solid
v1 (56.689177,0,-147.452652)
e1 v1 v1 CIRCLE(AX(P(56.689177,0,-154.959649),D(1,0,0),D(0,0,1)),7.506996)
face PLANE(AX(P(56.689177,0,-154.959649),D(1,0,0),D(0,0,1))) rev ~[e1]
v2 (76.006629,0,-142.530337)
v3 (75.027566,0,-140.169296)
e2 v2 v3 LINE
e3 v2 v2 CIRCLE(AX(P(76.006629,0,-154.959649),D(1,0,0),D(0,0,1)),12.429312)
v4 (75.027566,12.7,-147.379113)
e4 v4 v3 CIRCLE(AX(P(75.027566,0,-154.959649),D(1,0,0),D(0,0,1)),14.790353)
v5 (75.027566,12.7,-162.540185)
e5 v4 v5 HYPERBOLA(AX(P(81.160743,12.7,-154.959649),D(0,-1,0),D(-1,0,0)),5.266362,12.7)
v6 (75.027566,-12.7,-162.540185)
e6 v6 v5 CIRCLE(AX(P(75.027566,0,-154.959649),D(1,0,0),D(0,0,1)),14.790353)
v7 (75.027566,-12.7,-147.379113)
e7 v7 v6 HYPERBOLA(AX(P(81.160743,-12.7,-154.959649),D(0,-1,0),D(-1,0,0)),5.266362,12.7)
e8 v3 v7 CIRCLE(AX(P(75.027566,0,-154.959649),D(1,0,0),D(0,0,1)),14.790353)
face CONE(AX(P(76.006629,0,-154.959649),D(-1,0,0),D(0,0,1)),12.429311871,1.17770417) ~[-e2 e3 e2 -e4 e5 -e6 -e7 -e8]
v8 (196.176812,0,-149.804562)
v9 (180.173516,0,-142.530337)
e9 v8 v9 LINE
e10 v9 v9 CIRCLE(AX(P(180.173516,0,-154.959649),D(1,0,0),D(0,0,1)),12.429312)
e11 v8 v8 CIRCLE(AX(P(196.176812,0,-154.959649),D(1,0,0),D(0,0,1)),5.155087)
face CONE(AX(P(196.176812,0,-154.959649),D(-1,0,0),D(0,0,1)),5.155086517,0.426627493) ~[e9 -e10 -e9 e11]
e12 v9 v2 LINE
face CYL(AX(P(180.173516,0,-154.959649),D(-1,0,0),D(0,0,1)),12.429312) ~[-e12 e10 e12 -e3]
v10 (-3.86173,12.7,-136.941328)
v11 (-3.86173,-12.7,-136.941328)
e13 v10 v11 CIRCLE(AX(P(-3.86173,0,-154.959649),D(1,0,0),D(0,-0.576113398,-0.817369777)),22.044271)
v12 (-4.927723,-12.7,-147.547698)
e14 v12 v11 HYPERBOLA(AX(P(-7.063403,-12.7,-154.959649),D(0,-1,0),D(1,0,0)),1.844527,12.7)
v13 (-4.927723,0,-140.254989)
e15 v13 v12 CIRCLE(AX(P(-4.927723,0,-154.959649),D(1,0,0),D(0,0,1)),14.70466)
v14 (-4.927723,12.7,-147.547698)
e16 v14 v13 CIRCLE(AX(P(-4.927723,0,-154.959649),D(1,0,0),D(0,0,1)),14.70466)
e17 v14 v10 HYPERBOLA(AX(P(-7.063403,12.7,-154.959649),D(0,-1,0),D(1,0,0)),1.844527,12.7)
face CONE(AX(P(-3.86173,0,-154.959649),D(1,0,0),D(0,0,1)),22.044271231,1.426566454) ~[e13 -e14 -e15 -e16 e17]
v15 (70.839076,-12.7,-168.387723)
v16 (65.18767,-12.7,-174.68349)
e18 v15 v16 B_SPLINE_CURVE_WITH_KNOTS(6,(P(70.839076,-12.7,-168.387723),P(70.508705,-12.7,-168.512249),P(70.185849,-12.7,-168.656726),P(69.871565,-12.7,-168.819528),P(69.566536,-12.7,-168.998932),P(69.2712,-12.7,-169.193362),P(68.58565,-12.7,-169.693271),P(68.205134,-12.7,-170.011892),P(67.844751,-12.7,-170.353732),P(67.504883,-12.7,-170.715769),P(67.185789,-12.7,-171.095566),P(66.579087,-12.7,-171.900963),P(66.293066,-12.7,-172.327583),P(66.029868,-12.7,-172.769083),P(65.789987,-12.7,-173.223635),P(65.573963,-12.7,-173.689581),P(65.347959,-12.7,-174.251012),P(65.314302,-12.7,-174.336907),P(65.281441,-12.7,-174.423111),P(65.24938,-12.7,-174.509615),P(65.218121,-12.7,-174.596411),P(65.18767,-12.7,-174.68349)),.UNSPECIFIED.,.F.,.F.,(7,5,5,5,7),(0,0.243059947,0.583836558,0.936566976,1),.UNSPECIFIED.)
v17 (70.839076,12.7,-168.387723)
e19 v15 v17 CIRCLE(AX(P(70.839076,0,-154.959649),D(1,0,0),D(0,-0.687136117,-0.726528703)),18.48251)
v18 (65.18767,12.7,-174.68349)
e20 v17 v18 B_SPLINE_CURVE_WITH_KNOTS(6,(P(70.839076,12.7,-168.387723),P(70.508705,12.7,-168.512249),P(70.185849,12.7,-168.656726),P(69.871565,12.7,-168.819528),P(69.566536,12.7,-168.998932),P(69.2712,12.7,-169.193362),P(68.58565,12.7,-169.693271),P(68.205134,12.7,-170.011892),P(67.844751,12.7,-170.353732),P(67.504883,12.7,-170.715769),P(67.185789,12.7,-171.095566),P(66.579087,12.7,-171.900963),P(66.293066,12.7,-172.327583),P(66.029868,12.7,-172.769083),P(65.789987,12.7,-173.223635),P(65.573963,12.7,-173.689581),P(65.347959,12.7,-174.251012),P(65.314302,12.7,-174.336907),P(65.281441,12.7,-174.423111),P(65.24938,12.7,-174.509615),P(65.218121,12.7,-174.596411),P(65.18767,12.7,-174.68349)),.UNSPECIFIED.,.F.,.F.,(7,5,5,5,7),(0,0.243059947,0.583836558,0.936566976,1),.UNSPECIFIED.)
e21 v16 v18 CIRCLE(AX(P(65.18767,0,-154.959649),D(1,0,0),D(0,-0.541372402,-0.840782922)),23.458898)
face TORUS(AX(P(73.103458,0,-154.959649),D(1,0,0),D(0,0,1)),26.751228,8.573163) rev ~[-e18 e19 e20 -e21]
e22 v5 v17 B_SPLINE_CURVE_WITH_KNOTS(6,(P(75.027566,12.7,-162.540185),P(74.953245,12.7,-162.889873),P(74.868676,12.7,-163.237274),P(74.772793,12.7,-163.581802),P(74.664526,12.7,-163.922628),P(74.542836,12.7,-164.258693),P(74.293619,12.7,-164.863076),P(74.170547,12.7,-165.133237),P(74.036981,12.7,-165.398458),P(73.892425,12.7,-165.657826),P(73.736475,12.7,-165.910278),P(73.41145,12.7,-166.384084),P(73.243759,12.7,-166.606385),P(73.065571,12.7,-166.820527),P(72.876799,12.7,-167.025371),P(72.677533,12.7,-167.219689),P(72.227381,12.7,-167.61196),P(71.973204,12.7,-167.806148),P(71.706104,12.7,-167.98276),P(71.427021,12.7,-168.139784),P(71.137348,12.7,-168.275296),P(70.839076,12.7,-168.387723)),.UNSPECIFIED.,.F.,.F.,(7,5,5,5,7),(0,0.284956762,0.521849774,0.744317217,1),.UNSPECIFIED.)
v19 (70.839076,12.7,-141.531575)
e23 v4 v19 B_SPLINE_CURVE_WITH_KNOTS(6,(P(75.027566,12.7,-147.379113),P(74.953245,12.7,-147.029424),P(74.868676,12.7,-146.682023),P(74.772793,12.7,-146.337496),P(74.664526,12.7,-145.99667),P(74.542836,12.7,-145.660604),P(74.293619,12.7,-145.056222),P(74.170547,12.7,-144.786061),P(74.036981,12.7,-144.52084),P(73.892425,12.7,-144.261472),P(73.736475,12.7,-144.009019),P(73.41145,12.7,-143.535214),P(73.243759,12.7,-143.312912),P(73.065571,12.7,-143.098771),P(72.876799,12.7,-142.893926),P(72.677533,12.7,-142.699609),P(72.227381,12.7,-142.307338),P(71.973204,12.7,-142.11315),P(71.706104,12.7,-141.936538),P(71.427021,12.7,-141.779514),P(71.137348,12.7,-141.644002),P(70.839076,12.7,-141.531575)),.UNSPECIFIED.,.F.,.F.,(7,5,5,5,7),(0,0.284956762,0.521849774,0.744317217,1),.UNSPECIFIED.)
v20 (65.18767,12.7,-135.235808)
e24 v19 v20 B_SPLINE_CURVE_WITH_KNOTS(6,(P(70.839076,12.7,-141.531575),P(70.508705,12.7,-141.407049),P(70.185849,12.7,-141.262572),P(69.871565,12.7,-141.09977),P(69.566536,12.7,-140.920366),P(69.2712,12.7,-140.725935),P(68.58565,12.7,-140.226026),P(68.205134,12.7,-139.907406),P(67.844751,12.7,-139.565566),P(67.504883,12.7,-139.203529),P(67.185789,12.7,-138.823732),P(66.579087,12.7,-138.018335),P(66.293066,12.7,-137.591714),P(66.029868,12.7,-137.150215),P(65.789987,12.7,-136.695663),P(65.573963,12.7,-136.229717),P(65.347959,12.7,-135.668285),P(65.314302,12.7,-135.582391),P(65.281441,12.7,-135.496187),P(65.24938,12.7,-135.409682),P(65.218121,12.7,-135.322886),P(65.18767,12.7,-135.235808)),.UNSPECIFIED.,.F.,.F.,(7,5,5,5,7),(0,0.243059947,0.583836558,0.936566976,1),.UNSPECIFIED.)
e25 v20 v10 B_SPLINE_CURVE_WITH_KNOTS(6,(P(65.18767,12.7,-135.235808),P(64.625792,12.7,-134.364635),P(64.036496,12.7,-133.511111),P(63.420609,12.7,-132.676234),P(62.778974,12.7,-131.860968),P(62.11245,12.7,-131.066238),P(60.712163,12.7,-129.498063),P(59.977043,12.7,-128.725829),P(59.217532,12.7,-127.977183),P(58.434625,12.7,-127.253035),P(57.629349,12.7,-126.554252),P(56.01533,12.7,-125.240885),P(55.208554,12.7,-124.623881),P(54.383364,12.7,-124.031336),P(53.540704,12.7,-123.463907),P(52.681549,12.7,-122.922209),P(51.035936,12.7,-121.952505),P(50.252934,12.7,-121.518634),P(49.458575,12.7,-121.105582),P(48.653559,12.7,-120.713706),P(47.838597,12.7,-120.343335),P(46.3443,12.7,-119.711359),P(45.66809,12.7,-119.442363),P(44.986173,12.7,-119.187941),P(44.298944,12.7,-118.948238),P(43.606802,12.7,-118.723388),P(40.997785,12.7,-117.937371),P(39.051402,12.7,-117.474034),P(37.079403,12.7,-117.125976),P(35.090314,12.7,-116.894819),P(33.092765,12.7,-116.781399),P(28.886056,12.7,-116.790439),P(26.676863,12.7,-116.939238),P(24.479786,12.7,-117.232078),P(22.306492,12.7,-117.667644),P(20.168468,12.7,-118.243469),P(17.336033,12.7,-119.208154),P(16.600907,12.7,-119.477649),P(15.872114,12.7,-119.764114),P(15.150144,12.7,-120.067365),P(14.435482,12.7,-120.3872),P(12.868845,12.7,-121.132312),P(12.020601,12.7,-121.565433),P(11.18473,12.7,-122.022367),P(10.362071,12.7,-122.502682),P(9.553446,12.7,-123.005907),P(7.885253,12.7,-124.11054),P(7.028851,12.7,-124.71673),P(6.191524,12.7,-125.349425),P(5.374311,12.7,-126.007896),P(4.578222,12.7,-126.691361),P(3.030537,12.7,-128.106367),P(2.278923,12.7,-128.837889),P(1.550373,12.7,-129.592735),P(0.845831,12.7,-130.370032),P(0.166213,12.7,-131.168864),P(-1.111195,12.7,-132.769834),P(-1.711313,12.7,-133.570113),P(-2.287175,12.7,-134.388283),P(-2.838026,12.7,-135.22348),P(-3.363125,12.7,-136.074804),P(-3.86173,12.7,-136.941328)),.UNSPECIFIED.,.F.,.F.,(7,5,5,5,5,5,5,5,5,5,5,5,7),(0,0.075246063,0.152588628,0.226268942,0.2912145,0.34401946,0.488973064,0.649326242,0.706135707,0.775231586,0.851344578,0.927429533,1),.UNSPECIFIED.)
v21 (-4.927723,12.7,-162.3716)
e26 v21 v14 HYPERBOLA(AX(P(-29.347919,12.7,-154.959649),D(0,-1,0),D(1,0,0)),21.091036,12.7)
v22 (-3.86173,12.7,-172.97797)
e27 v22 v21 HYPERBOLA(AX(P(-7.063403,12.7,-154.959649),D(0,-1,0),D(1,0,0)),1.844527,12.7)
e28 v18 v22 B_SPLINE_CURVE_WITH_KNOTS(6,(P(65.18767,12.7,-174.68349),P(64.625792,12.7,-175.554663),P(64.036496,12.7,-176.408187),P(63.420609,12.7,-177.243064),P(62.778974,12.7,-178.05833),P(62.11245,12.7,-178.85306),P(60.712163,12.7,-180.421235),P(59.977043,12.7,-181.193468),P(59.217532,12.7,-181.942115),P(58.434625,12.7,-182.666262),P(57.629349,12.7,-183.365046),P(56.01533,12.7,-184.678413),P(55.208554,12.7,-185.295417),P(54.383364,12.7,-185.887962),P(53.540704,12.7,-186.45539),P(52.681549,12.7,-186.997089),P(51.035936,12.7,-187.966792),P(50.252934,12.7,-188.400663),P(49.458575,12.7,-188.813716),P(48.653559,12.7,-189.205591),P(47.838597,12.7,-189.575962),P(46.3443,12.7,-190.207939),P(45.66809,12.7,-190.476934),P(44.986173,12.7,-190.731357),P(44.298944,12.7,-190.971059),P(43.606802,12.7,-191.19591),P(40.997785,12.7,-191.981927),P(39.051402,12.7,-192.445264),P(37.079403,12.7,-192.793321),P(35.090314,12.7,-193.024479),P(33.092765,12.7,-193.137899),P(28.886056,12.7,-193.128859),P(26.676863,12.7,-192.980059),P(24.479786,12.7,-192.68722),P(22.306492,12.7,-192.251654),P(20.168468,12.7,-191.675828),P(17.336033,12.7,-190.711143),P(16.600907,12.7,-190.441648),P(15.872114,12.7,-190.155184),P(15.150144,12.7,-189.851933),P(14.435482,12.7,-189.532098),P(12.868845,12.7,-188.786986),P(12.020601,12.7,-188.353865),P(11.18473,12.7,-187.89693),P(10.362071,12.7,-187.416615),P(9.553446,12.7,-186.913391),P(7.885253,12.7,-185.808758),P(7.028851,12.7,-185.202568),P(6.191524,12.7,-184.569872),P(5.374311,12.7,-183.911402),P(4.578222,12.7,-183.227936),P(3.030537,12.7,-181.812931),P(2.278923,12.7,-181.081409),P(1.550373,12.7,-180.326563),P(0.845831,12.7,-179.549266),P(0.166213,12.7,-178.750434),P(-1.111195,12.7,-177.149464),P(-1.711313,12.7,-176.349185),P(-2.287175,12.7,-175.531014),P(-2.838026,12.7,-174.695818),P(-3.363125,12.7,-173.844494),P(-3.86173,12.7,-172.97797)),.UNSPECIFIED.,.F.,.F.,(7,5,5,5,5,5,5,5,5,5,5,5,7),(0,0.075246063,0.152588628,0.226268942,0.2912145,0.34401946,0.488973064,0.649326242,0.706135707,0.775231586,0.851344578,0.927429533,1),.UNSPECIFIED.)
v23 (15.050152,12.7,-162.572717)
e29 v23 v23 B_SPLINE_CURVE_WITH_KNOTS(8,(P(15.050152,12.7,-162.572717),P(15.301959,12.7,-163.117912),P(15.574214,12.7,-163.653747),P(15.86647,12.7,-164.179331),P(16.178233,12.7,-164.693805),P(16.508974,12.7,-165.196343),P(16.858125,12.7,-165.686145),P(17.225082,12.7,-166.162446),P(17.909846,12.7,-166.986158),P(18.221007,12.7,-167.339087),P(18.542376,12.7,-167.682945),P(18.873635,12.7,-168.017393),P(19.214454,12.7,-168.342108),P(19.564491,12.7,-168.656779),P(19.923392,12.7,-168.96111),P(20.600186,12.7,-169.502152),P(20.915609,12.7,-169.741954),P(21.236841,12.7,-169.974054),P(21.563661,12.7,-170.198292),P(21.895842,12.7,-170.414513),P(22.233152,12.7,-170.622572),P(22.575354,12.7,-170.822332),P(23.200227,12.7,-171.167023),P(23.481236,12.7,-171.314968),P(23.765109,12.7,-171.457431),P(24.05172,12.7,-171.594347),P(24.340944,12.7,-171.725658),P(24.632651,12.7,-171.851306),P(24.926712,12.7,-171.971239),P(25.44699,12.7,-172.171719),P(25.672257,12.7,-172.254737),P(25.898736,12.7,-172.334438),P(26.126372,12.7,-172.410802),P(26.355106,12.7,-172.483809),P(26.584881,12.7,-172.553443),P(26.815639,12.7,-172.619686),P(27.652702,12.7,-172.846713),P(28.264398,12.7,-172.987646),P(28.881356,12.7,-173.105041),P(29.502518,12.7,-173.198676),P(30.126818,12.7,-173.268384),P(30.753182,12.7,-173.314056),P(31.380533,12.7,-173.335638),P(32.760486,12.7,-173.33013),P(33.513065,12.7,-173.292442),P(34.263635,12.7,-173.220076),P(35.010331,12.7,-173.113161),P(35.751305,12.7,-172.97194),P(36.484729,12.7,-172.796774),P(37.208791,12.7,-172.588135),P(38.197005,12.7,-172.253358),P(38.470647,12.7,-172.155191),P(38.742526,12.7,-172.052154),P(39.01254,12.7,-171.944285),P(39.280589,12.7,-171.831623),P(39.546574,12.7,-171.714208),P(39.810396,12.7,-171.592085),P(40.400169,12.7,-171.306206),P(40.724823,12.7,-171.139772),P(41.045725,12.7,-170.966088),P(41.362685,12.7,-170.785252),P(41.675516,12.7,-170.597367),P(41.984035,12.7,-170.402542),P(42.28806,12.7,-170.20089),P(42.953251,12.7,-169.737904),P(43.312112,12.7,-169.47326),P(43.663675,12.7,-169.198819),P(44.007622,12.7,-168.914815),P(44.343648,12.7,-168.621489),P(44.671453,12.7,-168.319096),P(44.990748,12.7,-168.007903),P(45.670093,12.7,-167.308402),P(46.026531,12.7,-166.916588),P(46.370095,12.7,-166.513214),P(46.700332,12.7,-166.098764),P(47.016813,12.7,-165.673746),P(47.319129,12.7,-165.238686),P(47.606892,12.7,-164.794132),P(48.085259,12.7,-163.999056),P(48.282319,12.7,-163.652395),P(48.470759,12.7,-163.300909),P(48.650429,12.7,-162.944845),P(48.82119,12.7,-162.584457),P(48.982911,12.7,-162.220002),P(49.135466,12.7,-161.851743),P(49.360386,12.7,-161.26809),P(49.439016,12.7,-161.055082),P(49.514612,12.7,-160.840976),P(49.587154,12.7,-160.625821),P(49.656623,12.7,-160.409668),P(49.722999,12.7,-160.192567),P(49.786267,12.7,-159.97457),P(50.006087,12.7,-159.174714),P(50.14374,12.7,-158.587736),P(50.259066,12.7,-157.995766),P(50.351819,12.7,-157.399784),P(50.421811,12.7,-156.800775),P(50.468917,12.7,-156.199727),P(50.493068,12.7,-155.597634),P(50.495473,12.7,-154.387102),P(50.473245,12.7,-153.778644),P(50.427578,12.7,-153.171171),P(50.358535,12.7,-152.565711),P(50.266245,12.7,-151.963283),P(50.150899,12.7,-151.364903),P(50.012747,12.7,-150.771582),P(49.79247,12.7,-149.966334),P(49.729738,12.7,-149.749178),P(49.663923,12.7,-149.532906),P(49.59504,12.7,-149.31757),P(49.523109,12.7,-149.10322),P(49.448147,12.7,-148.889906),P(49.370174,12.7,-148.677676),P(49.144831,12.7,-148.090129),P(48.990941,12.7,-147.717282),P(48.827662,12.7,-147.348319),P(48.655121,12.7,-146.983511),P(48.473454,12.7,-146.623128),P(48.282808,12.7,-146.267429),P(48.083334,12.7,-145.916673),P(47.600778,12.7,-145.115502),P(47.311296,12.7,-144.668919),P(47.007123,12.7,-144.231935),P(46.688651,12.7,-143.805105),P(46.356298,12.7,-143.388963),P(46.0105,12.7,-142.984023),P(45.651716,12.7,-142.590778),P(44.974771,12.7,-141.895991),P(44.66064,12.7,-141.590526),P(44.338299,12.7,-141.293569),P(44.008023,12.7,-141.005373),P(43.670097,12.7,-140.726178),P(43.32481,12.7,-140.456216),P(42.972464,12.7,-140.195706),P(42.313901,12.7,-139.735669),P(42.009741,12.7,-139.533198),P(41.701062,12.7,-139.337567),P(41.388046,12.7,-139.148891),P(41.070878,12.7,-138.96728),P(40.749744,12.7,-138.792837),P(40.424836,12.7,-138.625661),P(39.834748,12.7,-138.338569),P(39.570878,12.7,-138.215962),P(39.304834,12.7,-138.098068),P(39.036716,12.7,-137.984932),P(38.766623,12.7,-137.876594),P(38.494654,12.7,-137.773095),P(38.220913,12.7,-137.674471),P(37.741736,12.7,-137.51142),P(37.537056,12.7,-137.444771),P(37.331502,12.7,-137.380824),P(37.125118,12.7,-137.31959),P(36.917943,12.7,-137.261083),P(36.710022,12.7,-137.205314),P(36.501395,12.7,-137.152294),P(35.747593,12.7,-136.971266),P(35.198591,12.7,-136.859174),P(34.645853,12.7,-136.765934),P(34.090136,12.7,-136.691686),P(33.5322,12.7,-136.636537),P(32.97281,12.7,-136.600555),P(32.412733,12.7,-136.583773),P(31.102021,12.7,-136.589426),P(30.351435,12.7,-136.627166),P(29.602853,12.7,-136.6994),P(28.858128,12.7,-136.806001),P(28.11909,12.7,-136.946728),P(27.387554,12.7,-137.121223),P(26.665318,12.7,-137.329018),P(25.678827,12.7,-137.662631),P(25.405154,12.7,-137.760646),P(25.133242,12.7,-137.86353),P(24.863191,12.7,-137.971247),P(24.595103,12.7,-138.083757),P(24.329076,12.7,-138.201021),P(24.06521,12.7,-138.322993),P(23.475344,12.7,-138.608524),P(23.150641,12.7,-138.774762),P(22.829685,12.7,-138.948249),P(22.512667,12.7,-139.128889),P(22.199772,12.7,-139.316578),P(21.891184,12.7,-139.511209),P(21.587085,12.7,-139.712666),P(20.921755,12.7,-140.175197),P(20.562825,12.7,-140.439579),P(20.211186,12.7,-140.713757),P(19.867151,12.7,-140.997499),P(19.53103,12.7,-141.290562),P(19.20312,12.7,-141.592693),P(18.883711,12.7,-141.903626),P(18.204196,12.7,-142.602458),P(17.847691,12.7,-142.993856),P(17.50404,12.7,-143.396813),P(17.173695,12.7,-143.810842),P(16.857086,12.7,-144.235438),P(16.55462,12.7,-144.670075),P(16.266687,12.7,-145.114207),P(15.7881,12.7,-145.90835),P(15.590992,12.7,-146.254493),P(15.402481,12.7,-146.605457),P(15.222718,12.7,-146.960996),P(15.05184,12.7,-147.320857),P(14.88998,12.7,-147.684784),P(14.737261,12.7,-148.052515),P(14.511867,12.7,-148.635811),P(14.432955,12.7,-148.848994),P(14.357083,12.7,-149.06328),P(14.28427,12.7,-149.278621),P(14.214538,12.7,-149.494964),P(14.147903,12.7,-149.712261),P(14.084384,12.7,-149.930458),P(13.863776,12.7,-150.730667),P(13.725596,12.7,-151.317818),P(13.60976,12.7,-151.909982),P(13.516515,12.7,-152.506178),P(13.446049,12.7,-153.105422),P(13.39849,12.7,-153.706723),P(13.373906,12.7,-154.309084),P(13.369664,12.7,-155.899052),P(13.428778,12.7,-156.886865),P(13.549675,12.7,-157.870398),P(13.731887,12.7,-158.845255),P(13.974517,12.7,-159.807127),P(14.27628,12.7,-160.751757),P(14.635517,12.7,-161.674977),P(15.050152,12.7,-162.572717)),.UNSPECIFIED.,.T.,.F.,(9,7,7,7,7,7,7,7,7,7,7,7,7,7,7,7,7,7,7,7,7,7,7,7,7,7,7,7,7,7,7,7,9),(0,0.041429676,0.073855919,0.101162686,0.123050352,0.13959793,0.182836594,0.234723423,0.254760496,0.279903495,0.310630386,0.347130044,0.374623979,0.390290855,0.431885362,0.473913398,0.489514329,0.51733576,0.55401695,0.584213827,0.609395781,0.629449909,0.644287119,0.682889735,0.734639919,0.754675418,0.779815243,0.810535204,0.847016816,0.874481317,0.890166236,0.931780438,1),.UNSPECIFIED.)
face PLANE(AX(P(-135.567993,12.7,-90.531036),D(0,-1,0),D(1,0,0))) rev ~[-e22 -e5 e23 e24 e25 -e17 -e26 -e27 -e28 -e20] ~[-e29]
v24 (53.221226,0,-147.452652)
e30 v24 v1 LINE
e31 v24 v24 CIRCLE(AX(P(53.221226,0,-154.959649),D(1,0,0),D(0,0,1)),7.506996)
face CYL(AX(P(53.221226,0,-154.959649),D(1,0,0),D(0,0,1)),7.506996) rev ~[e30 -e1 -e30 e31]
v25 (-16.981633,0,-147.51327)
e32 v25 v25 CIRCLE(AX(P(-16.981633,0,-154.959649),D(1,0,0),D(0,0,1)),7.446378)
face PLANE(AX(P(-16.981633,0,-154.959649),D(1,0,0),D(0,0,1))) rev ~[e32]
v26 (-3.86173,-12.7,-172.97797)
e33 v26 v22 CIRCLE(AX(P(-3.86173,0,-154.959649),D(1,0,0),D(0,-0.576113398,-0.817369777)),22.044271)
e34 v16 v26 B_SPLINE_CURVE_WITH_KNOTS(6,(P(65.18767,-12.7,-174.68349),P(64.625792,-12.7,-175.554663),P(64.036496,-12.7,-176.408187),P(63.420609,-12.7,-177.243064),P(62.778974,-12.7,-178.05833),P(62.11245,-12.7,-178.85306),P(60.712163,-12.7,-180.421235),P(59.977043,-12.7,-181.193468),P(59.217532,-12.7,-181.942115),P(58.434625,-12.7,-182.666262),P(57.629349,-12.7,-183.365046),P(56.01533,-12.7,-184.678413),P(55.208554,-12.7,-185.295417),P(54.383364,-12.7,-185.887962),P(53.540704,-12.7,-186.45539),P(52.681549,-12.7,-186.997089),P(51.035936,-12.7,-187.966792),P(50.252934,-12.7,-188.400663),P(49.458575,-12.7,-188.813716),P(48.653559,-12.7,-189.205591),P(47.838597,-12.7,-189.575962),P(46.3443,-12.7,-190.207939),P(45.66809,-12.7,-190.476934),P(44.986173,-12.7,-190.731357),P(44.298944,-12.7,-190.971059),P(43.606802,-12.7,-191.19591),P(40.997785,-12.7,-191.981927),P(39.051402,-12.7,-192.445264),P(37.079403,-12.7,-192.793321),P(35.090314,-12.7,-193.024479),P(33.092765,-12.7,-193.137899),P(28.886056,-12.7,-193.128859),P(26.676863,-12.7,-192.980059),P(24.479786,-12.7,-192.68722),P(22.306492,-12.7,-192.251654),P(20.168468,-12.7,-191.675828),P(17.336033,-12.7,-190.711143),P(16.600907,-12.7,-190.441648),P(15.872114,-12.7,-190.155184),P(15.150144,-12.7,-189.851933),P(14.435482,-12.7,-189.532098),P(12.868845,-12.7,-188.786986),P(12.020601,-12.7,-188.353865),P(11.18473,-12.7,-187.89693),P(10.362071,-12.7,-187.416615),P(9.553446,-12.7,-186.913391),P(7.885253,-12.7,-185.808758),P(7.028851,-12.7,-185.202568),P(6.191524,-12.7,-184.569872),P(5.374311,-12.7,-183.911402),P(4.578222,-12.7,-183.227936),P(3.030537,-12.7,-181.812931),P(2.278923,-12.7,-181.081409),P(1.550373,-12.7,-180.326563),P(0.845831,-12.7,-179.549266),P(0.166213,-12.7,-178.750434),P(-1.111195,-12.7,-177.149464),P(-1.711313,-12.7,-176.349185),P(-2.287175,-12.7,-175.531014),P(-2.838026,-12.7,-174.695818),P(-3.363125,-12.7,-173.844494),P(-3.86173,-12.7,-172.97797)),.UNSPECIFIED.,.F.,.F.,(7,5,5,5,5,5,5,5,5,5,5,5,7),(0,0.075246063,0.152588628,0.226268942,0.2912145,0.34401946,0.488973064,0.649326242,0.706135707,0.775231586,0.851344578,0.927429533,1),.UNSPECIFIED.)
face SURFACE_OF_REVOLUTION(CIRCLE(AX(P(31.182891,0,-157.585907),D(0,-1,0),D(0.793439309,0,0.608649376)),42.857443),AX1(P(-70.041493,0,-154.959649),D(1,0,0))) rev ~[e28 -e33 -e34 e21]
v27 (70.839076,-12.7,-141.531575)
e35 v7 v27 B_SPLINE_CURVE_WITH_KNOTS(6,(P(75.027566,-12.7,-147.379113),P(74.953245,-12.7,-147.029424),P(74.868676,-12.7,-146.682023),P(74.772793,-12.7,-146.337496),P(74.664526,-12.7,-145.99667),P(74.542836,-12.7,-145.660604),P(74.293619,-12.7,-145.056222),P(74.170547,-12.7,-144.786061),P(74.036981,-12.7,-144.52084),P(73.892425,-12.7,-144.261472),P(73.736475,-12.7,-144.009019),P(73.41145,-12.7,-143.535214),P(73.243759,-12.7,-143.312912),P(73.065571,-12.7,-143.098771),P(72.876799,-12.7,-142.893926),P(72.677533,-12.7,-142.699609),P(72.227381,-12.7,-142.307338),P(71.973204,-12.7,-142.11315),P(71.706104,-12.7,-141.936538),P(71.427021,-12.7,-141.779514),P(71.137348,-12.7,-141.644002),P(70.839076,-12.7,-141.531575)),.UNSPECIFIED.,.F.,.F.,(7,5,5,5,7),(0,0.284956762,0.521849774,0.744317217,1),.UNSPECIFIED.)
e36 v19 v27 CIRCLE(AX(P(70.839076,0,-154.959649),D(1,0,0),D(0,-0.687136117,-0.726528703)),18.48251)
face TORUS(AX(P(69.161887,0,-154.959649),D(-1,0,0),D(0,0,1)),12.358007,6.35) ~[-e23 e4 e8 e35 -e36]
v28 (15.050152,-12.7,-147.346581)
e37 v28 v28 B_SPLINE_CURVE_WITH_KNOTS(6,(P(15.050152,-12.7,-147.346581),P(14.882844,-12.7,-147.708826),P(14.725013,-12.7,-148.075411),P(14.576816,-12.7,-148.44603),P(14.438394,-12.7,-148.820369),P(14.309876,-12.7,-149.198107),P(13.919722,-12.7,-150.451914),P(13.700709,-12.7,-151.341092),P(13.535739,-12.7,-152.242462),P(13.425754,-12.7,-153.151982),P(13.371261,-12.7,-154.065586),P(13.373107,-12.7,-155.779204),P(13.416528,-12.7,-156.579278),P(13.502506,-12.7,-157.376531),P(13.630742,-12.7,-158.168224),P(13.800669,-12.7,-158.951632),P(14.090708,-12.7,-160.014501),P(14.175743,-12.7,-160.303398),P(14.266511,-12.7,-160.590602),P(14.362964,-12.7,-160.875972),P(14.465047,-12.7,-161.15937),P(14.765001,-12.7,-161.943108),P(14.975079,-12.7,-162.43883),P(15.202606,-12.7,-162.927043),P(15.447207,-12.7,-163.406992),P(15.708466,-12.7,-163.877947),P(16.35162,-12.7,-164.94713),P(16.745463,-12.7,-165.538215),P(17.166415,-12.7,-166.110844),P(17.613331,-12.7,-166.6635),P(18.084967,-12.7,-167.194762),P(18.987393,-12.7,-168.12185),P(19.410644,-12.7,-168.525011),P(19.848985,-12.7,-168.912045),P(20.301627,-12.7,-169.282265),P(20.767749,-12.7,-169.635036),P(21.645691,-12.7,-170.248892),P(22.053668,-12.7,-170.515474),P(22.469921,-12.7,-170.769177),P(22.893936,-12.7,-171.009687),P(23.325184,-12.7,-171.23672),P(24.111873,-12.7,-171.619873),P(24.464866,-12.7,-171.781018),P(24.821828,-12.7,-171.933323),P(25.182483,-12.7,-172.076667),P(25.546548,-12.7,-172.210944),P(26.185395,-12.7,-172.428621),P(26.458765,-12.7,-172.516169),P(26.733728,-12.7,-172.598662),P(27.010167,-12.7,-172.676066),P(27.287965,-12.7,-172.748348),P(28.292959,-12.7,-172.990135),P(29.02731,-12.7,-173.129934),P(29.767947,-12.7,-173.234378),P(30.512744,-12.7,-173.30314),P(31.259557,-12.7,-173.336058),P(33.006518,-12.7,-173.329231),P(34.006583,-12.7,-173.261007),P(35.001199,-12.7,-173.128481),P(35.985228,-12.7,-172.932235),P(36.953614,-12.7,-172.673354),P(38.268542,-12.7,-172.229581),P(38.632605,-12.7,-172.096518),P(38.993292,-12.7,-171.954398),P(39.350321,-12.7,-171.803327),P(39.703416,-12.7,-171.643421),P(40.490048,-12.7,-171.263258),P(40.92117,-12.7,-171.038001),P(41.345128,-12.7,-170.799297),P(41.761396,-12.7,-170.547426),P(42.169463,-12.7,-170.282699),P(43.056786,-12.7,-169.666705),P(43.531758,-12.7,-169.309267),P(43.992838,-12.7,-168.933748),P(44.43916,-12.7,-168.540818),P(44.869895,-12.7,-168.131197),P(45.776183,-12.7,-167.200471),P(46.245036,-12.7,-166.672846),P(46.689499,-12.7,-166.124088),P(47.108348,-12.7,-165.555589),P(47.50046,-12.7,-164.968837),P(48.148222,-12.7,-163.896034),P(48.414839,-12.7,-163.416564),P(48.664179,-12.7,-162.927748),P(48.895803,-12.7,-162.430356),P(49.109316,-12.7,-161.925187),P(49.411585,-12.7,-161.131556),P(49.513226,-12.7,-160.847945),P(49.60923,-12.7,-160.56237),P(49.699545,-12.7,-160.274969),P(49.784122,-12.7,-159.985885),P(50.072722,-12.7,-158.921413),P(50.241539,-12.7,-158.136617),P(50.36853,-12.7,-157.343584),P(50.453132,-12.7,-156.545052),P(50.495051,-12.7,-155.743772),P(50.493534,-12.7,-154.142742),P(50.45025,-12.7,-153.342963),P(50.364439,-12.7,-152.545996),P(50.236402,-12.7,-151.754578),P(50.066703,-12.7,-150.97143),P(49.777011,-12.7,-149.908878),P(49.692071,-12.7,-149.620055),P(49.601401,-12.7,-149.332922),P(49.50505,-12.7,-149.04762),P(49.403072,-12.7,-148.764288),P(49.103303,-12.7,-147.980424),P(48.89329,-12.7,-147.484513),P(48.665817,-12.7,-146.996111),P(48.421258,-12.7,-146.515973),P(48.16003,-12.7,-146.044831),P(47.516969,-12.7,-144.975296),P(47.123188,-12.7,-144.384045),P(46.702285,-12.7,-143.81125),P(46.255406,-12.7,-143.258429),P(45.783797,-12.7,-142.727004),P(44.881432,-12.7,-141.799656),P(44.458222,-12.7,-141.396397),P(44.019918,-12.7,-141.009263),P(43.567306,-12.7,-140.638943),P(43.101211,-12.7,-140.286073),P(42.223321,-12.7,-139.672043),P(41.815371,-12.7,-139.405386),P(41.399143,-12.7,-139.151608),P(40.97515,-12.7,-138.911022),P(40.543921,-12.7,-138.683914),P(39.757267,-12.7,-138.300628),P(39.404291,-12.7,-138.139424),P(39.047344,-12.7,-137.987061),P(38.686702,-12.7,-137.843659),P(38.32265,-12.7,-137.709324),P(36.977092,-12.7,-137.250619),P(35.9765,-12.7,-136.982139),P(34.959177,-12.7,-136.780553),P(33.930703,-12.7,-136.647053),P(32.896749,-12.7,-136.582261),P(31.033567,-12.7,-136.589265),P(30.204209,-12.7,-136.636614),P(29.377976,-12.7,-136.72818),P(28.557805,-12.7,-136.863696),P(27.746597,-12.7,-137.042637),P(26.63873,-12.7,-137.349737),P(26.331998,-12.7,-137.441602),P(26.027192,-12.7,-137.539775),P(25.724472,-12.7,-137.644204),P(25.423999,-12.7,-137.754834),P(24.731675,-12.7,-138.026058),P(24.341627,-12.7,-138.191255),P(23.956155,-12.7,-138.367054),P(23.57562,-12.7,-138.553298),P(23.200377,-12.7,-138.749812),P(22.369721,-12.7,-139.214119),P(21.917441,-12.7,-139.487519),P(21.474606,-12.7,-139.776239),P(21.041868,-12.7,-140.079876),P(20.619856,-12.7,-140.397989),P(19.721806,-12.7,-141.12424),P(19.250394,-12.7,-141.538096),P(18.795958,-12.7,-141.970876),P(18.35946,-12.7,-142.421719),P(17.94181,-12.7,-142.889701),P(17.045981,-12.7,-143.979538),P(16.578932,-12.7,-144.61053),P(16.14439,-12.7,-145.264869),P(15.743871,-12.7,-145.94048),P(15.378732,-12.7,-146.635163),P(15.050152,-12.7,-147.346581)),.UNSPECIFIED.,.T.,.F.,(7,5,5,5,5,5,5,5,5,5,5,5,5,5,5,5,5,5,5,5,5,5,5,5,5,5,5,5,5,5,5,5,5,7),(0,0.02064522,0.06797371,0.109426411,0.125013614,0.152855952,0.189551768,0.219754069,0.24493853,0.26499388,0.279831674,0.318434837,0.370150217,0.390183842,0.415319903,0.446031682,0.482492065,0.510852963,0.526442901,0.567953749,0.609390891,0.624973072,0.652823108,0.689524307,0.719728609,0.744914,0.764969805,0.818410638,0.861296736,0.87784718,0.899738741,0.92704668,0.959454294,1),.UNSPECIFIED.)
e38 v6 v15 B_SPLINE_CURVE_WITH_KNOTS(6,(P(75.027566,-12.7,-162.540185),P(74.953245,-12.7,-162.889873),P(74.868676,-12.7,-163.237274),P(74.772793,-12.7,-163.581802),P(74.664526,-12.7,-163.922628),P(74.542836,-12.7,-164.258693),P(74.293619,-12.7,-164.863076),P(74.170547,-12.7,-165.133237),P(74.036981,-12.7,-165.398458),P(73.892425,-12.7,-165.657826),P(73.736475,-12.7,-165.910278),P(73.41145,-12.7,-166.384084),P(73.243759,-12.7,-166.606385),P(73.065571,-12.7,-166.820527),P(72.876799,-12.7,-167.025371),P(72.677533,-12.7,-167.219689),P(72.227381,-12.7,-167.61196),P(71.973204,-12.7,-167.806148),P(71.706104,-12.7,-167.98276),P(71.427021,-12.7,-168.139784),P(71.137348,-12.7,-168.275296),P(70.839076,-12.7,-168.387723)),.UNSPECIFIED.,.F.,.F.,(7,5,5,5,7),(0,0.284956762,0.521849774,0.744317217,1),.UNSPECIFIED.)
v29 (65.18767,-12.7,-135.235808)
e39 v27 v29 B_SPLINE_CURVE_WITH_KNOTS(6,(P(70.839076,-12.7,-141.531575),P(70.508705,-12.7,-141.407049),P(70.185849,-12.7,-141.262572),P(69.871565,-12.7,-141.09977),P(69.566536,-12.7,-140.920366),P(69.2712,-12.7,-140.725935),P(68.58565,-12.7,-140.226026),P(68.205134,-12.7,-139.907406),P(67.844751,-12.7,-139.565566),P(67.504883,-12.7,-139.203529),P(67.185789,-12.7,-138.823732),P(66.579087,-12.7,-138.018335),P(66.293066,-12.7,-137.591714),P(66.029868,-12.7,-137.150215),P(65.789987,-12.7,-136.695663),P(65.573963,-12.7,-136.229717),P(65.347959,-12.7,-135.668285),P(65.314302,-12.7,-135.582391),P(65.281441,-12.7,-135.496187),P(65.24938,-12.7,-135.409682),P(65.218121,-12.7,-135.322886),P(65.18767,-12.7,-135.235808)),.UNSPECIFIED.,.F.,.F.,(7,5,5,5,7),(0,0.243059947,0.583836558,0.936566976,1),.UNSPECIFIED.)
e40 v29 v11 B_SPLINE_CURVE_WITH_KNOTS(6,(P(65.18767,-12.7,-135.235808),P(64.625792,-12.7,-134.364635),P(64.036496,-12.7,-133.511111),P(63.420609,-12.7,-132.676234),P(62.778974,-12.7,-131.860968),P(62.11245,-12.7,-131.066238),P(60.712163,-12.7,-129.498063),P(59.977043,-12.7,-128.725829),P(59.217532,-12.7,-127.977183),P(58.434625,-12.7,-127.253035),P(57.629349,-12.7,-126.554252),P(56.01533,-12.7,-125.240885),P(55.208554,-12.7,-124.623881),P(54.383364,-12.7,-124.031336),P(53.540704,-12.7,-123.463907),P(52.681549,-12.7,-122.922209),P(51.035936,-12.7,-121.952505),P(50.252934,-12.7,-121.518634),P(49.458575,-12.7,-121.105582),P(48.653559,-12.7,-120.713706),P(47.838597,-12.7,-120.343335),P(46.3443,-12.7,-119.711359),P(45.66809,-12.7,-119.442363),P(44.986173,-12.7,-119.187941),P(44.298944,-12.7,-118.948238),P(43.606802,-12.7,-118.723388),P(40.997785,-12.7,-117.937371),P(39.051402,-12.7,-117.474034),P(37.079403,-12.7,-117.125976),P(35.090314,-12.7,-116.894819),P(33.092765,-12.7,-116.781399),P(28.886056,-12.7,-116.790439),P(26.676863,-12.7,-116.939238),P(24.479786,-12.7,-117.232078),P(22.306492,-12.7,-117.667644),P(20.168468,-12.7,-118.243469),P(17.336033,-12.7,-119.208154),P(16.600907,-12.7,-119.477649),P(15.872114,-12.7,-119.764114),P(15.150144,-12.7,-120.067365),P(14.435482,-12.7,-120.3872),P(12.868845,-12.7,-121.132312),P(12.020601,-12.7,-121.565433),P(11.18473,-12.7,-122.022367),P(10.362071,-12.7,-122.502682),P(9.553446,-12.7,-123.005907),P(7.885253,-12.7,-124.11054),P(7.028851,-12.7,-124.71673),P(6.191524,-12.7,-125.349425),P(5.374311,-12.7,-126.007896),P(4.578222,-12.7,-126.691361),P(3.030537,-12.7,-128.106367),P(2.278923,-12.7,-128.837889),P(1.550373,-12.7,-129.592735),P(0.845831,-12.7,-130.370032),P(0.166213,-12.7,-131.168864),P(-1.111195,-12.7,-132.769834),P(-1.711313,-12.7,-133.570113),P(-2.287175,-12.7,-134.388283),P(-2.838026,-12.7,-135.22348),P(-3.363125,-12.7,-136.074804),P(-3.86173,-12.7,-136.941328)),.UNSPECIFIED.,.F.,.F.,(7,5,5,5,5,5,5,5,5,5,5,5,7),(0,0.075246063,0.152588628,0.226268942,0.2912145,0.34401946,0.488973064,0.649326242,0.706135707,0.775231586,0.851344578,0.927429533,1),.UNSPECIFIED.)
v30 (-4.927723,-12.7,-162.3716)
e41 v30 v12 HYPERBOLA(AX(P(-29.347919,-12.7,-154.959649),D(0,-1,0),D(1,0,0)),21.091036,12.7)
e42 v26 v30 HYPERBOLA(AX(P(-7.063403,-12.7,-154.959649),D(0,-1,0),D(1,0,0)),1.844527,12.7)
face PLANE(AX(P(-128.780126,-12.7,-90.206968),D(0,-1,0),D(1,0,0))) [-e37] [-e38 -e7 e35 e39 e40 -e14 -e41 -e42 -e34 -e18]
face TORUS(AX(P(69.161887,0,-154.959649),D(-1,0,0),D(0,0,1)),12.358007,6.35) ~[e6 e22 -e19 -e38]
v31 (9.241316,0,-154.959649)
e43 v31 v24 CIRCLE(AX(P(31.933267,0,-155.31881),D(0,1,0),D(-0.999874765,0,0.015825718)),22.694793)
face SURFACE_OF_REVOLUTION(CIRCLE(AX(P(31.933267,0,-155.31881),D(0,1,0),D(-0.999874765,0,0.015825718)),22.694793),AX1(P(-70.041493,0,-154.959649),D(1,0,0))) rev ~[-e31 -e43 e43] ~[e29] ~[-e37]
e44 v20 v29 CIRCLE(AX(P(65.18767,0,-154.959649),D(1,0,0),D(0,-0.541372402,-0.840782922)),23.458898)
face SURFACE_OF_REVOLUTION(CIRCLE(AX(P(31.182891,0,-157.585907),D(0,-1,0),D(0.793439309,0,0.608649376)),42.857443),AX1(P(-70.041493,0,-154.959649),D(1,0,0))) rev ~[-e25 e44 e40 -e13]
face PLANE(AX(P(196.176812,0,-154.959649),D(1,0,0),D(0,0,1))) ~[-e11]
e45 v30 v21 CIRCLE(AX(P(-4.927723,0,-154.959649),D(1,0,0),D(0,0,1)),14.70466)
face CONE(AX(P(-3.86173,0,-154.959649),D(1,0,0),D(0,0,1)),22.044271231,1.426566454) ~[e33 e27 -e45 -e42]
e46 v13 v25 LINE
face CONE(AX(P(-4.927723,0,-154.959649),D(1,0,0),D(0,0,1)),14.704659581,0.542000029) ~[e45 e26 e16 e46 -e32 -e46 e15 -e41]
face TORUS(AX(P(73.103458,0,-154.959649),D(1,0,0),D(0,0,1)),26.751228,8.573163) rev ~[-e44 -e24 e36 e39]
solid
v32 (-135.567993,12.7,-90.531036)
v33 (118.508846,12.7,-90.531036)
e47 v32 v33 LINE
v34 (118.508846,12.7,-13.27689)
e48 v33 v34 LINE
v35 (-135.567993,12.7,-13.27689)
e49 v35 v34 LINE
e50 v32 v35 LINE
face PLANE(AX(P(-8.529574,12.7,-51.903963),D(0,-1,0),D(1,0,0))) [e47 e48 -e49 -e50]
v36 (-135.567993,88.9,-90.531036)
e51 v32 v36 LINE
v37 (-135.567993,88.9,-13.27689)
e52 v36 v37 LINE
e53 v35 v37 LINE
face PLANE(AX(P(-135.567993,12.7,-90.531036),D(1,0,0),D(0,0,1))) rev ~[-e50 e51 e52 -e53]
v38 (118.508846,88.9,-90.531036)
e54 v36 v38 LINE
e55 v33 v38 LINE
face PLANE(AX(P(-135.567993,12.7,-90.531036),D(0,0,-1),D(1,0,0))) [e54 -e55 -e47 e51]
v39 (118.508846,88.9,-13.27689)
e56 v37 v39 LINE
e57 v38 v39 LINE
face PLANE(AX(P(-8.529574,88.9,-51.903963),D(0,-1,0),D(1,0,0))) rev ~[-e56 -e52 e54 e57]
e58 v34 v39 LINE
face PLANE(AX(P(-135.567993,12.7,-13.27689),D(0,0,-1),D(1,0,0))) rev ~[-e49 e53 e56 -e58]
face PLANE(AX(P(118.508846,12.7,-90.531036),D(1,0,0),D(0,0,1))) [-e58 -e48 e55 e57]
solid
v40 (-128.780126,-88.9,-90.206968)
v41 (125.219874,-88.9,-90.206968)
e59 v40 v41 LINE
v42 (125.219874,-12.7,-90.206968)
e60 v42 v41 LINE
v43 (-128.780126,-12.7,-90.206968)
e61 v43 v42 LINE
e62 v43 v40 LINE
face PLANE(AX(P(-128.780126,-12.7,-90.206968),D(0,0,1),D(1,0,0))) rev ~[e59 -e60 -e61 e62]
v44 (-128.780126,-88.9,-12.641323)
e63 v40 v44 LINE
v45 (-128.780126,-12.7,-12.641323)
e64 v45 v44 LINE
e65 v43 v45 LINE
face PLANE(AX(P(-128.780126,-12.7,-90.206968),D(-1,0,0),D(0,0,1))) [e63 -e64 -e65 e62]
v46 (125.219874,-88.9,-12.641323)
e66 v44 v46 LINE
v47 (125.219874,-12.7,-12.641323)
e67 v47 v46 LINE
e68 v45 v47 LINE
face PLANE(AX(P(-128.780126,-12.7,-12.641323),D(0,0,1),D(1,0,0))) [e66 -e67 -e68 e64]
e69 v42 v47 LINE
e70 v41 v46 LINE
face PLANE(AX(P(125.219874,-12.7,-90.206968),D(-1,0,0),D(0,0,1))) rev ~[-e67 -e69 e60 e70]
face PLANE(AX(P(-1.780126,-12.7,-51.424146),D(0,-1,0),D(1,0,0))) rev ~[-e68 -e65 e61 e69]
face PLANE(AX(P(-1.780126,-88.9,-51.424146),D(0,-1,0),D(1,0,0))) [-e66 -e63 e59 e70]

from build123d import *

# Parameters (mm, degrees)
F3_W     = 254
F3_H     = 77.5656452438
F4_DEPTH = 76.2
F5_DEPTH = 508
F7_W     = 254.0768384933
F7_H     = 77.2541463375
F8_DEPTH = 76.2
F9_DEPTH = 508


with BuildPart() as f1:
    # F0 (on Front) → F1 (revolve)
    with BuildSketch(Plane.XZ):
        Polygon((76.0066285729, -142.5303369761), (76.0066285729, -154.9596488476), (196.1768120527, -154.9596488476), (196.1768120527, -149.8045623302), (180.1735162735, -142.5303369761), align=None)
        with BuildLine():
            Line((-16.9816333801, -147.5132703781), (-16.9816333801, -154.9596488476))
            Line((-16.9816333801, -154.9596488476), (9.2413164675, -154.9596488476))
            ThreePointArc((9.2413164675, -154.9596488476), (28.1146879115, -132.9475770724), (53.2212257385, -147.4526524544))
            Line((53.2212257385, -147.4526524544), (56.6891767085, -147.4526524544))
            Line((56.6891767085, -147.4526524544), (56.6891767085, -154.9596488476))
            Line((56.6891767085, -154.9596488476), (76.0066285729, -154.9596488476))
            Line((76.0066285729, -154.9596488476), (76.0066285729, -142.5303369761))
            Line((76.0066285729, -142.5303369761), (75.0275660096, -140.1692962516))
            ThreePointArc((75.0275660096, -140.1692962516), (73.3609013597, -137.8381583704), (70.8390763513, -136.4771390819))
            ThreePointArc((70.8390763513, -136.4771390819), (67.4377654065, -134.6426306683), (65.1876702905, -131.5007507801))
            ThreePointArc((65.1876702905, -131.5007507801), (30.305047036, -114.7374551622), (-3.8617295213, -132.9153776169))
            Line((-3.8617295213, -132.9153776169), (-4.9277227372, -140.2549892664))
            Line((-4.9277227372, -140.2549892664), (-16.9816333801, -147.5132703781))
        make_face()
    revolve(axis=Axis((-70.0414925814, 0, -154.9596488476), (1, 0, 0)))



with BuildPart() as f4:
    # F3 (on offset) → F4 (new body)
    with BuildSketch(Plane.XZ.offset(12.7)):
        with Locations((-1.7801262438, -51.4241456985)):
            Rectangle(F3_W, F3_H)
    extrude(amount=F4_DEPTH)


with BuildPart() as f1_1:
    add(f1.part)
    # F5 (cut): a face of the model
    f5_faces = [f4.part.faces().sort_by_distance(p)[0] for p in [
        (-1.7801262438, -50.8, -90.2069683204),
    ]]
    extrude(f5_faces, amount=F5_DEPTH, mode=Mode.SUBTRACT)



with BuildPart() as f8:
    # F7 (on offset) → F8 (new body)
    with BuildSketch(Plane.XZ.offset(-12.7)):
        with Locations((-8.529573679, -51.903963089)):
            Rectangle(F7_W, F7_H)
    extrude(amount=-F8_DEPTH)


with BuildPart() as f1_2:
    add(f1_1.part)
    # F9 (cut): a face of the model
    f9_faces = [f8.part.faces().sort_by_distance(p)[0] for p in [
        (-8.529573679, 50.8, -90.5310362577),
    ]]
    extrude(f9_faces, amount=F9_DEPTH, mode=Mode.SUBTRACT)


solid = Compound([f4.part, f8.part, f1_2.part])
